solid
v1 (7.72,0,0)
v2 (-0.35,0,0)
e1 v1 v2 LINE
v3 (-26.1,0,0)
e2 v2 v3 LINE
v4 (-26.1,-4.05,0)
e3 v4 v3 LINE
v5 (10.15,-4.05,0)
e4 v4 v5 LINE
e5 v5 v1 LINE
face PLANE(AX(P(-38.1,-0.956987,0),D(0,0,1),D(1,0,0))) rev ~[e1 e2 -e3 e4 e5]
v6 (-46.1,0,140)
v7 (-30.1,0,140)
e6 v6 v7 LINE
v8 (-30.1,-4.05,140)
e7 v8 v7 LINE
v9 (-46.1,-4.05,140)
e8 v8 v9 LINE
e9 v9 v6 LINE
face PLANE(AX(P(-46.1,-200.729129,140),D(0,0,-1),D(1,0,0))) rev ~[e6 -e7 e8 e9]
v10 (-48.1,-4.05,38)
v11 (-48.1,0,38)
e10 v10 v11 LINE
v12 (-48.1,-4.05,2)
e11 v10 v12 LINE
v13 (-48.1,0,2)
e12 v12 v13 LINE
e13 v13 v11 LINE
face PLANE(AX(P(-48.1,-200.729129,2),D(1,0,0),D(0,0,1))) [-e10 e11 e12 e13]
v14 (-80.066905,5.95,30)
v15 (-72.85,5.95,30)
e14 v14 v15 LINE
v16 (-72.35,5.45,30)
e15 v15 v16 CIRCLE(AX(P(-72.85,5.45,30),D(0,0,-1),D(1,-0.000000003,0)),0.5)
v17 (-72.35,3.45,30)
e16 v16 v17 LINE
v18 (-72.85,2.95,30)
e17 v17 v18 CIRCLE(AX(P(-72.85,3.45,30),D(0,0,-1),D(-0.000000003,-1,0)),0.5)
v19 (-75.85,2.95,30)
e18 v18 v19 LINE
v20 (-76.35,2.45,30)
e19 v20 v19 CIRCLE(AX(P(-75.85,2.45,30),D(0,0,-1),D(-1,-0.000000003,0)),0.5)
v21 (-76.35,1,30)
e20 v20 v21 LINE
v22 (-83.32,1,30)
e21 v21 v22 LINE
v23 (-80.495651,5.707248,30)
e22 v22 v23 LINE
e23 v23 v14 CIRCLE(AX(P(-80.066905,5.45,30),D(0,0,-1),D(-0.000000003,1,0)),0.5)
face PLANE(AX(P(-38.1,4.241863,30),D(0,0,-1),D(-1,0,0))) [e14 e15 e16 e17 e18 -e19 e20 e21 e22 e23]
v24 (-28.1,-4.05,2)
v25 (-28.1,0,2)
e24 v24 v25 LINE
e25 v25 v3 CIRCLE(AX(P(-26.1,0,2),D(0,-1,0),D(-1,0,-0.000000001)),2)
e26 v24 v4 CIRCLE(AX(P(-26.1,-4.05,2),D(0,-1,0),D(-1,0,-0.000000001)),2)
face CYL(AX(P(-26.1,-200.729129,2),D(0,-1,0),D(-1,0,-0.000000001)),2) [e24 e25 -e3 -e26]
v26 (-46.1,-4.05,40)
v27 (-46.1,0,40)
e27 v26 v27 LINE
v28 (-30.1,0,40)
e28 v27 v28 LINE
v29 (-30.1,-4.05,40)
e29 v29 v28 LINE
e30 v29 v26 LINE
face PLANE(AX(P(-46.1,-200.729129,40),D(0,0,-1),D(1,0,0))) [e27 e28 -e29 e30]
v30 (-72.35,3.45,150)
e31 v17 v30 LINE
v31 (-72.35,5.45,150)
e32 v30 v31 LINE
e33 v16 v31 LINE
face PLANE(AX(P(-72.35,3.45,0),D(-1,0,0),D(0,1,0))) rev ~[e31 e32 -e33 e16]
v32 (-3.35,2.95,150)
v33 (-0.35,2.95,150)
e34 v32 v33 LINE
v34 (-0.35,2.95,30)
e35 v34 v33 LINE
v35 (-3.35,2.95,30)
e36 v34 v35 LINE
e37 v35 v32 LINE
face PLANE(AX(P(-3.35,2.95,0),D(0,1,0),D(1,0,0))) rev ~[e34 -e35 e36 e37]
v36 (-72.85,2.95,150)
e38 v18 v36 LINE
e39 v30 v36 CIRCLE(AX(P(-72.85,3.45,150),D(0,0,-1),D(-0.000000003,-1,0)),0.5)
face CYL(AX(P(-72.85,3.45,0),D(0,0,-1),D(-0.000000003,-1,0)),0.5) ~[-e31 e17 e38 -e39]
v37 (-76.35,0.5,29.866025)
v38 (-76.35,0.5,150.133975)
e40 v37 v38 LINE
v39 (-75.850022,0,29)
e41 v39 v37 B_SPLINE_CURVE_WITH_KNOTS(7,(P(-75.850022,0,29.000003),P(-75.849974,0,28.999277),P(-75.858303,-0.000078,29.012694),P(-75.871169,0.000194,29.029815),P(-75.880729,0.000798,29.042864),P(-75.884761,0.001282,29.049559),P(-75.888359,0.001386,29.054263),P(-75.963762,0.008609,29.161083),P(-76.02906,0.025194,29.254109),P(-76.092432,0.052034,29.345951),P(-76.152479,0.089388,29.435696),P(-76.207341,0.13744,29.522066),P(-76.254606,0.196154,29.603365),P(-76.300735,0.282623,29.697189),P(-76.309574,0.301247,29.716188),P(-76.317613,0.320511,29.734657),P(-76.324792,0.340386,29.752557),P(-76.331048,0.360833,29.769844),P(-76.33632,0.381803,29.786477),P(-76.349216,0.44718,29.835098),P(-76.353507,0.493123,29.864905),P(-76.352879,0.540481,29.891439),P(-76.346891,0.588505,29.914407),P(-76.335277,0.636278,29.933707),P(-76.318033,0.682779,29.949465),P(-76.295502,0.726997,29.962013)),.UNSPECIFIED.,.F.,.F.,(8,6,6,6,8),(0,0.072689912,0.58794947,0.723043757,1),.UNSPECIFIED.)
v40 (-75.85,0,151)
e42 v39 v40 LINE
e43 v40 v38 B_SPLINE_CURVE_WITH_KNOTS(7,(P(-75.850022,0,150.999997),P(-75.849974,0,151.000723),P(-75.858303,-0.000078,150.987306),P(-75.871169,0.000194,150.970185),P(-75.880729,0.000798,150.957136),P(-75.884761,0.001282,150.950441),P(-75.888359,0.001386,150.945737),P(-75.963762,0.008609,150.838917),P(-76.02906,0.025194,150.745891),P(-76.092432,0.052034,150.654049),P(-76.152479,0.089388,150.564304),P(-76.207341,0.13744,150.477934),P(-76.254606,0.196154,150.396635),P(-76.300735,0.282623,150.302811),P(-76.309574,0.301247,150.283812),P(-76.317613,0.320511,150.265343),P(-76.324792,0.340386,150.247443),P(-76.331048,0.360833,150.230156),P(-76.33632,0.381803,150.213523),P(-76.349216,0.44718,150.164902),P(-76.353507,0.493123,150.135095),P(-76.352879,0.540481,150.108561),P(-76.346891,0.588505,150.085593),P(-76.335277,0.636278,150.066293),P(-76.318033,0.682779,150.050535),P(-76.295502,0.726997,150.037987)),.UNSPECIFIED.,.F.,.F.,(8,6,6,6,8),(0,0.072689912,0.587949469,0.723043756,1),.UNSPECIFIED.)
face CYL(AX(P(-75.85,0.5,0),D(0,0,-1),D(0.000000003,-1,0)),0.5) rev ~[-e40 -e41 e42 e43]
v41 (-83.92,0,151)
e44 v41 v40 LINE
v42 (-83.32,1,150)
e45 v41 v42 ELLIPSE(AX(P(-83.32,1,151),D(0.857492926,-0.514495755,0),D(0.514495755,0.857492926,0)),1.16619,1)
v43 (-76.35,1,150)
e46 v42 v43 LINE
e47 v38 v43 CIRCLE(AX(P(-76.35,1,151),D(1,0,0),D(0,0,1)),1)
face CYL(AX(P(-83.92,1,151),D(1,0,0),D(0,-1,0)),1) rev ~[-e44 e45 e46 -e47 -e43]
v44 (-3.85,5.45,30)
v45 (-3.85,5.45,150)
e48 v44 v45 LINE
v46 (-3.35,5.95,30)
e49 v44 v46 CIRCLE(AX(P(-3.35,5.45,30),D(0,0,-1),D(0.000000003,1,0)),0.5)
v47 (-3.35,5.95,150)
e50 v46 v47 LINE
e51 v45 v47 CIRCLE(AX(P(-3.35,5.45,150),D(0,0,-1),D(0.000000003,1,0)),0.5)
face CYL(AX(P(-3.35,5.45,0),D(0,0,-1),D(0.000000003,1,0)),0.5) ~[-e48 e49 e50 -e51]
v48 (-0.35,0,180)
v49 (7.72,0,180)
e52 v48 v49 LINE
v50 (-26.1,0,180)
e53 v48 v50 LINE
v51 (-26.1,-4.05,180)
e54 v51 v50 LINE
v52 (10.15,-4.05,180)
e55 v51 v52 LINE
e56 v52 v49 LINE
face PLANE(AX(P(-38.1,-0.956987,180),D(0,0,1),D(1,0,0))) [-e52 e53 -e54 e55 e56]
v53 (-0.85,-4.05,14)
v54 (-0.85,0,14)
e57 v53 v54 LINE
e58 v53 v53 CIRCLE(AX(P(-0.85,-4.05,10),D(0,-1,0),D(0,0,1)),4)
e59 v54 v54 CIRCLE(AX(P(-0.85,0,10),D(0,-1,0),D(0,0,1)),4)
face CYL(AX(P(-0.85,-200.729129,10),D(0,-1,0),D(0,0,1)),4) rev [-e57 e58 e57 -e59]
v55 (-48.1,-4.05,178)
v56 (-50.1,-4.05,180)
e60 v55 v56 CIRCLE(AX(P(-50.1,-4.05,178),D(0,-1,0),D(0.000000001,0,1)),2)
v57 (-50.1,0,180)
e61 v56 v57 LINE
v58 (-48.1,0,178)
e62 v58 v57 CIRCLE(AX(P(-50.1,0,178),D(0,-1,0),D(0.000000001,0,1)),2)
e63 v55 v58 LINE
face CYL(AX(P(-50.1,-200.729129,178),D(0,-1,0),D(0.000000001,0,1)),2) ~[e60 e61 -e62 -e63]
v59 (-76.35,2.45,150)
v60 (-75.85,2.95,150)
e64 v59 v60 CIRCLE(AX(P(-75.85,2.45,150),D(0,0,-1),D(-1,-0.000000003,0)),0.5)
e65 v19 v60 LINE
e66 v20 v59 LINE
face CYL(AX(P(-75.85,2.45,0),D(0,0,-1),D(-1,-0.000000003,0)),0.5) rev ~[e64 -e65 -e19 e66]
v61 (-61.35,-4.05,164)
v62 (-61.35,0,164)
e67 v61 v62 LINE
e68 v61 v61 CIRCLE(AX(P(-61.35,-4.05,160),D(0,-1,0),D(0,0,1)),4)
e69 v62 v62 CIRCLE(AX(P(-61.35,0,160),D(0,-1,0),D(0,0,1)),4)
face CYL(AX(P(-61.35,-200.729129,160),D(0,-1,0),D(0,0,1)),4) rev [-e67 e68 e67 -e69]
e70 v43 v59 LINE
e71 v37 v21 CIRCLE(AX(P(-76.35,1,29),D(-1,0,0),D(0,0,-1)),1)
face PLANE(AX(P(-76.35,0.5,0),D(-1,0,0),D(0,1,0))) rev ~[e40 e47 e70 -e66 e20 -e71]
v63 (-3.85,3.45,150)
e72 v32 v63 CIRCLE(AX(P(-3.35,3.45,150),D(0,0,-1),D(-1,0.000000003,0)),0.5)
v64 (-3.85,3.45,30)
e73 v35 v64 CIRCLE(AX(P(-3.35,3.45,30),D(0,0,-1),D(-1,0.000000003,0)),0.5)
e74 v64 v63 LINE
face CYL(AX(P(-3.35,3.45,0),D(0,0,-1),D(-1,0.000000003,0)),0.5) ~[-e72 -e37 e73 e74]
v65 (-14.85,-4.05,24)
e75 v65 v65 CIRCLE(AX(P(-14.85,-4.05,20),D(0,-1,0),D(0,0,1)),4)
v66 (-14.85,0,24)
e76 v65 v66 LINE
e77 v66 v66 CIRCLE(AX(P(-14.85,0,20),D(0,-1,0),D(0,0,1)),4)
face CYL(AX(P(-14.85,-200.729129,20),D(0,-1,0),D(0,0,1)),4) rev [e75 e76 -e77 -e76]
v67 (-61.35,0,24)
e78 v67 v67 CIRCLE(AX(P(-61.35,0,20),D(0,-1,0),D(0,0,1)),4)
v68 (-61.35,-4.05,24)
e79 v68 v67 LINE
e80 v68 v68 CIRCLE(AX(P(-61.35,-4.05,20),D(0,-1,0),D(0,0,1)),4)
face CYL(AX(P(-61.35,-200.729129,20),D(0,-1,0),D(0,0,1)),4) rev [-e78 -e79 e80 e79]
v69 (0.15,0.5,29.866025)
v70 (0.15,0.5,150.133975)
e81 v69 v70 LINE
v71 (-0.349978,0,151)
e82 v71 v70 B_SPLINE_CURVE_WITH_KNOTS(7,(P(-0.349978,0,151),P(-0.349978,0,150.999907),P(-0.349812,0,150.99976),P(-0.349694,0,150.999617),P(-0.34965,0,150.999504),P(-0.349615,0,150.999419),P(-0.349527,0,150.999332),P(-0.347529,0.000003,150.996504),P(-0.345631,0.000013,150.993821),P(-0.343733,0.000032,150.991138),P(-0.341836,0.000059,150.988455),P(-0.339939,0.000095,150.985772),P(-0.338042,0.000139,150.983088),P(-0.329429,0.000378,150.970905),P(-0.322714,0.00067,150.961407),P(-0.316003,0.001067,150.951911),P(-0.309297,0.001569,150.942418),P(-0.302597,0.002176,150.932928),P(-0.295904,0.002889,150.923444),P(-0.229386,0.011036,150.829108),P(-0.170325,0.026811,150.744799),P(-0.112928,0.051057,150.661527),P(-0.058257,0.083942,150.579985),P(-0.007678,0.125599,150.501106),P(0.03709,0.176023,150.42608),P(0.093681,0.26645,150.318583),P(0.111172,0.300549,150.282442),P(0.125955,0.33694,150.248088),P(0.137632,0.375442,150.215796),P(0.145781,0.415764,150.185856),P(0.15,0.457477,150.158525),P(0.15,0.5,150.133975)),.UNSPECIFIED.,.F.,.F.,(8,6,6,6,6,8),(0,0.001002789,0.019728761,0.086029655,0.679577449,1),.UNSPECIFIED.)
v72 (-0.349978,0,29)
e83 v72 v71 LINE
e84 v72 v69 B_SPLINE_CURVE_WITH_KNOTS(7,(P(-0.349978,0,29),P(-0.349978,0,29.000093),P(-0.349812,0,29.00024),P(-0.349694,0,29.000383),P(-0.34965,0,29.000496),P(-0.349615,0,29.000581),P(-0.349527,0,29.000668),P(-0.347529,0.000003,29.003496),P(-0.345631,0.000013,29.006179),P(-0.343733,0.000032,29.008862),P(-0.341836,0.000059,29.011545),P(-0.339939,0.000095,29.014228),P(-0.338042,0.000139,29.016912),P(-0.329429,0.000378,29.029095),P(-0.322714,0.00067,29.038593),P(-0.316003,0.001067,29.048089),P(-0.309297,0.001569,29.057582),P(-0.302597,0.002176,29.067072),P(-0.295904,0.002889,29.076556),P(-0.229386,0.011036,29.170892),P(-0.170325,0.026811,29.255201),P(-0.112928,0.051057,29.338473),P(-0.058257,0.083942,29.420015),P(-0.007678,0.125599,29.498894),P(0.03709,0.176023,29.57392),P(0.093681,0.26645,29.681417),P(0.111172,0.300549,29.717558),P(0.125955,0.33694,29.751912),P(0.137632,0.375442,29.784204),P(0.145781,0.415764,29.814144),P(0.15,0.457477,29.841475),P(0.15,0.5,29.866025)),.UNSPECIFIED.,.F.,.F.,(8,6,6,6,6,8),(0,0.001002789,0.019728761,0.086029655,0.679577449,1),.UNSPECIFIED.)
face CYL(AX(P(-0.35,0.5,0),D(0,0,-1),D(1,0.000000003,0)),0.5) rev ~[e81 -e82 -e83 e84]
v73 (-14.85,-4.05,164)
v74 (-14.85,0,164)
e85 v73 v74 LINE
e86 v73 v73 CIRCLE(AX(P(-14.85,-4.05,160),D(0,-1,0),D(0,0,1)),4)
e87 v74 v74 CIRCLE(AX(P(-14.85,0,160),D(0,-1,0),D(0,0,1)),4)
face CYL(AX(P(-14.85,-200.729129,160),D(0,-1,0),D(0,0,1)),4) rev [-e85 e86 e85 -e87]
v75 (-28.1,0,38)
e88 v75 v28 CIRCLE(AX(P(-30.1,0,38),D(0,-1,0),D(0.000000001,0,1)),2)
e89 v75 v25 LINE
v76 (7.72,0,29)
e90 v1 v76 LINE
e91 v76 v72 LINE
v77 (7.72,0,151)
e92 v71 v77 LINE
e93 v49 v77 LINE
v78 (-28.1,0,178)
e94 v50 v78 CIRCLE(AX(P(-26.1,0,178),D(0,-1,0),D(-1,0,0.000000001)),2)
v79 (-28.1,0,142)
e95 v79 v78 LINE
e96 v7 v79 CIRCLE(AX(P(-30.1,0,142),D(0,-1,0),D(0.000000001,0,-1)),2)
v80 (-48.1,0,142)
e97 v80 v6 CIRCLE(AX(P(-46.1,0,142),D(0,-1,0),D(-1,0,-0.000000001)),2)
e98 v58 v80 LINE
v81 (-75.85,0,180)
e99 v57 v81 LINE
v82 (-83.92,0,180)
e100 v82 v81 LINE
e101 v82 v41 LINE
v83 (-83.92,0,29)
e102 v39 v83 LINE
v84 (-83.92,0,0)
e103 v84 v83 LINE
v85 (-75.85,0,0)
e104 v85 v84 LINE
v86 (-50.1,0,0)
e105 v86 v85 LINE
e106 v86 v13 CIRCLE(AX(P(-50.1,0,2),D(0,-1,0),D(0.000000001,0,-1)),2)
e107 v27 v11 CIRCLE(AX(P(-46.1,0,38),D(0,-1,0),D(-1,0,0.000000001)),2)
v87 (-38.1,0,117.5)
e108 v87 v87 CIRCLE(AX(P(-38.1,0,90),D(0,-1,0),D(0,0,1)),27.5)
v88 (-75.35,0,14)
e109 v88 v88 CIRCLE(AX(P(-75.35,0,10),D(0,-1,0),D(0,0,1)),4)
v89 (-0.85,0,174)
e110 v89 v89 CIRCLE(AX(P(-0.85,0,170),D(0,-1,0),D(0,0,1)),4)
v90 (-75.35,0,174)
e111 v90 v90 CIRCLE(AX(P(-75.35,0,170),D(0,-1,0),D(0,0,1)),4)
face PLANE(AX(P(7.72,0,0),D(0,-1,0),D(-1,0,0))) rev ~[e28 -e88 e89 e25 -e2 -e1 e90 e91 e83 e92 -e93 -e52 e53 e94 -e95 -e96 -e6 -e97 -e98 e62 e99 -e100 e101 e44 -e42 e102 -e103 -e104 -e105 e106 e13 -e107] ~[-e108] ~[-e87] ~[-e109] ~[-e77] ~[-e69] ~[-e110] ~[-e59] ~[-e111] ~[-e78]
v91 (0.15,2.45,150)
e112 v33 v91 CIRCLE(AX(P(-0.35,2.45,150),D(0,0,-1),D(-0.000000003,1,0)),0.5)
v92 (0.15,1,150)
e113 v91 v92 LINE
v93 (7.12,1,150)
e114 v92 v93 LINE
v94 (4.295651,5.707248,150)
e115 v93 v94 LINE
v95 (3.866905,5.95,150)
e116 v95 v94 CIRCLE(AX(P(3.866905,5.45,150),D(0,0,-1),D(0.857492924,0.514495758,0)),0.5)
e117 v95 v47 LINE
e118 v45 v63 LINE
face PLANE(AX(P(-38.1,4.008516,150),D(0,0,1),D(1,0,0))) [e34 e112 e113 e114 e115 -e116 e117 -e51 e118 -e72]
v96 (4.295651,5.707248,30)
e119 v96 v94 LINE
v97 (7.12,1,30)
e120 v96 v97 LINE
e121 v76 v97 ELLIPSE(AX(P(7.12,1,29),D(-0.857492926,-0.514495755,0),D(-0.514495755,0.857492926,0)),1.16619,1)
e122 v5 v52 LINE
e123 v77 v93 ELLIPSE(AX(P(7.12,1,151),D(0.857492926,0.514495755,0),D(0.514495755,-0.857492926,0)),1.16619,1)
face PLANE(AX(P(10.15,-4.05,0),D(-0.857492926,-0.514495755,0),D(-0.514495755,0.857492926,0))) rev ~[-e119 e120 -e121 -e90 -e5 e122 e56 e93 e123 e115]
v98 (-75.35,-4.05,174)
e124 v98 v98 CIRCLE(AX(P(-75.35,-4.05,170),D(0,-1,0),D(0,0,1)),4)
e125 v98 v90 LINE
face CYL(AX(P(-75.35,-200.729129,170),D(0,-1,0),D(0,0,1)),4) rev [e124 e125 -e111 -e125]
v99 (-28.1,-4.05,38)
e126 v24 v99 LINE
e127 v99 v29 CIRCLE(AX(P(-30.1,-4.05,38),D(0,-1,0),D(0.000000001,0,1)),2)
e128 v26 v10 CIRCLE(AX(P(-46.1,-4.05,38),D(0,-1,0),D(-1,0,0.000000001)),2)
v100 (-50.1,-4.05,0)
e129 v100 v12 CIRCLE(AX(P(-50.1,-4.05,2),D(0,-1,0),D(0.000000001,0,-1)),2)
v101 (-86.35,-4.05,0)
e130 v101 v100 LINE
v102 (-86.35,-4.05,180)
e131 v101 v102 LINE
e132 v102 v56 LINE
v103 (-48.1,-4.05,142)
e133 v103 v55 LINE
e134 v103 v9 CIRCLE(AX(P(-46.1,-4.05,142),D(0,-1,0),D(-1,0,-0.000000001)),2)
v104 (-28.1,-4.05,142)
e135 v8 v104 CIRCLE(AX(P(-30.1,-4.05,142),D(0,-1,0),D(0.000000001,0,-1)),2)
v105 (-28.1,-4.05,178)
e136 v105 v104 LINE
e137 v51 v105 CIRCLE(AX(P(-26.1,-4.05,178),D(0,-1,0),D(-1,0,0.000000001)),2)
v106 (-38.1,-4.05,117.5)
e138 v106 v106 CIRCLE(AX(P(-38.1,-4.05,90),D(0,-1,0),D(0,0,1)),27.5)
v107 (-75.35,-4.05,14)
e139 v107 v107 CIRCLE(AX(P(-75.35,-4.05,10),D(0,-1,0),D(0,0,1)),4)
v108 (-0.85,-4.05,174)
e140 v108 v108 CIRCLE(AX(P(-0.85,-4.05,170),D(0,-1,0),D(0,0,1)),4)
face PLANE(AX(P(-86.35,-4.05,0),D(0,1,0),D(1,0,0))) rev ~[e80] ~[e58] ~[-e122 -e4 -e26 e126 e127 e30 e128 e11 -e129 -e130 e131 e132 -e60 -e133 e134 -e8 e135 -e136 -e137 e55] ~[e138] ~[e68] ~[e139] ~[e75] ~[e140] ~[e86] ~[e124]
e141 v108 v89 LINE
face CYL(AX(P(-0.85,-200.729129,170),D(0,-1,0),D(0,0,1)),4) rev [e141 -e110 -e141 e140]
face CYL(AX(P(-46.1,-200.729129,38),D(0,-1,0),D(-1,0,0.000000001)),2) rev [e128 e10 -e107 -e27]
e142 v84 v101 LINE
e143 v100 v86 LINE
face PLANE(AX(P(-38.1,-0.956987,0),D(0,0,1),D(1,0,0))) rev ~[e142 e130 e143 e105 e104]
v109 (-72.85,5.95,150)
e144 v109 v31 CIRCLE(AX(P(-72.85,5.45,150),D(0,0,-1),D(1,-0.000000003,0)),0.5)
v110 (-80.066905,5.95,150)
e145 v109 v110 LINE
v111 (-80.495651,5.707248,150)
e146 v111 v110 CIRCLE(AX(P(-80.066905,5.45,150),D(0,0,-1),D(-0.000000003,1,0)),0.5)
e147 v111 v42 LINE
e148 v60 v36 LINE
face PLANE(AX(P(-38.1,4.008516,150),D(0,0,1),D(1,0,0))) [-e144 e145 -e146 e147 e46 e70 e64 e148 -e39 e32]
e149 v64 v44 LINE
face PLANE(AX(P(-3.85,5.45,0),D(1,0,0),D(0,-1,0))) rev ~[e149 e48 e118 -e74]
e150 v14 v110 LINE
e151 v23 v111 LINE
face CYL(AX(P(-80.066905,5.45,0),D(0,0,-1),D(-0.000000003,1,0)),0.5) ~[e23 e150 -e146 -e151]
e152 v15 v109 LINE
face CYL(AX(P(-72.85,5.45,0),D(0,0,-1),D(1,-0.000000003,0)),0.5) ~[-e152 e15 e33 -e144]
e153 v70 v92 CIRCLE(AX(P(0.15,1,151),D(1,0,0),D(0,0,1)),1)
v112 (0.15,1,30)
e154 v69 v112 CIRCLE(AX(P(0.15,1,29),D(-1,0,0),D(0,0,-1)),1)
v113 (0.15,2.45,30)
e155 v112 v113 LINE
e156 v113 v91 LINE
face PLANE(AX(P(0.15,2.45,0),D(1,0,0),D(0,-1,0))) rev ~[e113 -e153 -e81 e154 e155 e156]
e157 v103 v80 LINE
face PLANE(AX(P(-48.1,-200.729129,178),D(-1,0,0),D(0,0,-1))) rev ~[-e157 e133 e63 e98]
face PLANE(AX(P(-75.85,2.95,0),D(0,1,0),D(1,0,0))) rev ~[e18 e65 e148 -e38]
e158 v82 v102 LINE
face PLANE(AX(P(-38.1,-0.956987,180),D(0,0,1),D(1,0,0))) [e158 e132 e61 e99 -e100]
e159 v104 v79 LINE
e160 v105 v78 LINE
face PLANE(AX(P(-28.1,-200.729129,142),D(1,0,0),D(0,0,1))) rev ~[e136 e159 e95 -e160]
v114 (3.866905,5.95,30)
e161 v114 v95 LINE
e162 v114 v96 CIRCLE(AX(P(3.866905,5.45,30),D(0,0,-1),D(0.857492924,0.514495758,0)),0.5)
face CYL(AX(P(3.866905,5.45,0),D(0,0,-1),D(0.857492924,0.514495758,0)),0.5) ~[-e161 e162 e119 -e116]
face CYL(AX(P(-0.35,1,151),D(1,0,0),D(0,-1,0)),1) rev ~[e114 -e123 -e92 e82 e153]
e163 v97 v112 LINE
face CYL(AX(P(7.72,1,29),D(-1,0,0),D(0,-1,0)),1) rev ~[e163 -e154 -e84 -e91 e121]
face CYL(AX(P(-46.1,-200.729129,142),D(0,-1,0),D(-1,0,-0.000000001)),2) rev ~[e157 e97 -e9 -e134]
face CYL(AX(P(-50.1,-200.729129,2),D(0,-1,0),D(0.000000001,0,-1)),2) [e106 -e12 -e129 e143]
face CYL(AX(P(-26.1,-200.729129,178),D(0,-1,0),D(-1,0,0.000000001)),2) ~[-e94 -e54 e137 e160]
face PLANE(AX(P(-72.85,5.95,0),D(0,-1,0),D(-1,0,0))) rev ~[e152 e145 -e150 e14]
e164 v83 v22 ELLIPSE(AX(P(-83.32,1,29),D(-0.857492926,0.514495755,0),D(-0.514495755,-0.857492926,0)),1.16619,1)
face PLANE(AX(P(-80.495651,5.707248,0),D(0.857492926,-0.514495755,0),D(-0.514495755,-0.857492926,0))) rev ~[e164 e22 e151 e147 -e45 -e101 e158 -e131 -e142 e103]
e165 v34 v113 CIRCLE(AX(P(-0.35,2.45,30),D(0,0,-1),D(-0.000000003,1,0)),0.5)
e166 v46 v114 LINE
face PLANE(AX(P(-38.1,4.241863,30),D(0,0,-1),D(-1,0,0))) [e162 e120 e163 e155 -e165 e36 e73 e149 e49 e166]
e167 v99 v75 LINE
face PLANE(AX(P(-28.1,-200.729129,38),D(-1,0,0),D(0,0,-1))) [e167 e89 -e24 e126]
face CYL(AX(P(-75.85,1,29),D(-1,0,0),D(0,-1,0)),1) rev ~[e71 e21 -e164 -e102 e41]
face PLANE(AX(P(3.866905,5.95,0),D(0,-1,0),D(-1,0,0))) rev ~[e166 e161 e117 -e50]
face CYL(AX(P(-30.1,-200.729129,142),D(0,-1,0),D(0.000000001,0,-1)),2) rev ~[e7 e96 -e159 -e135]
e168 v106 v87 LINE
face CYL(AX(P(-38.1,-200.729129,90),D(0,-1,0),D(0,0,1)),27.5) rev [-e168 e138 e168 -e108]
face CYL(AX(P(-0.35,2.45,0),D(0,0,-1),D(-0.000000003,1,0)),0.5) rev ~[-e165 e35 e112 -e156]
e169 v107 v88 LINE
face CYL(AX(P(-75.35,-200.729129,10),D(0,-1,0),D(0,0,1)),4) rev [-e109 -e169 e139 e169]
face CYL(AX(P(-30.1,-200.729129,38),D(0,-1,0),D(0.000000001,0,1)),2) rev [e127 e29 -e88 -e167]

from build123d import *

# Parameters (mm, degrees)
BOSS_EXTRUDE1_DEPTH     = 180
SKETCH2_W               = 91.64
SKETCH2_H               = 8.017032047
CUT_EXTRUDE1_DEPTH      = 30
SKETCH3_W               = 91.64
SKETCH3_H               = 8.483725915
CUT_EXTRUDE2_DEPTH      = 30
FILLET1_R               = 1
FILLET2_R               = 1
FILLET3_R               = 1
CUT_EXTRUDE3_DEPTH      = 200.729129072
CUT_EXTRUDE3_DEPTH_BACK = 200.729129072
SKETCH4_R               = 4
SKETCH4_R_2             = 27.5


with BuildPart() as part:
    # Sketch1 → Boss-Extrude1 (new body)
    with BuildSketch(Plane.XY):
        with BuildLine():
            Line((-80.35, -4.05), (-79.85, -4.05))
            Line((-79.85, -4.05), (3.65, -4.05))
            Line((3.65, -4.05), (4.15, -4.05))
            Line((4.15, -4.05), (10.15, -4.05))
            Line((10.15, -4.05), (4.295651273, 5.707247878))
            ThreePointArc((4.295651273, 5.707247878), (4.113254218, 5.885099953), (3.866904811, 5.95))
            Line((3.866904811, 5.95), (3.65, 5.95))
            Line((3.65, 5.95), (-3.35, 5.95))
            ThreePointArc((-3.35, 5.95), (-3.703553391, 5.803553391), (-3.85, 5.45))
            Line((-3.85, 5.45), (-3.85, 3.45))
            ThreePointArc((-3.85, 3.45), (-3.703553391, 3.096446609), (-3.35, 2.95))
            Line((-3.35, 2.95), (-0.35, 2.95))
            ThreePointArc((-0.35, 2.95), (0.003553391, 2.803553391), (0.15, 2.45))
            Line((0.15, 2.45), (0.15, 0.5))
            ThreePointArc((0.15, 0.5), (0.003553391, 0.146446609), (-0.35, 0))
            Line((-0.35, 0), (-75.85, 0))
            ThreePointArc((-75.85, 0), (-76.203553391, 0.146446609), (-76.35, 0.5))
            Line((-76.35, 0.5), (-76.35, 2.45))
            ThreePointArc((-76.35, 2.45), (-76.203553391, 2.803553391), (-75.85, 2.95))
            Line((-75.85, 2.95), (-72.85, 2.95))
            ThreePointArc((-72.85, 2.95), (-72.496446609, 3.096446609), (-72.35, 3.45))
            Line((-72.35, 3.45), (-72.35, 5.45))
            ThreePointArc((-72.35, 5.45), (-72.496446609, 5.803553391), (-72.85, 5.95))
            Line((-72.85, 5.95), (-79.85, 5.95))
            Line((-79.85, 5.95), (-80.066904811, 5.95))
            ThreePointArc((-80.066904811, 5.95), (-80.313254218, 5.885099953), (-80.495651273, 5.707247878))
            Line((-80.495651273, 5.707247878), (-86.35, -4.05))
            Line((-86.35, -4.05), (-80.35, -4.05))
        make_face()
    extrude(amount=BOSS_EXTRUDE1_DEPTH)

    # Sketch2 → Cut-Extrude1 (cut)
    with BuildSketch(Plane.XY.offset(180)):
        with Locations((-38.1, 4.008516024)):
            Rectangle(SKETCH2_W, SKETCH2_H)
    extrude(amount=-CUT_EXTRUDE1_DEPTH, mode=Mode.SUBTRACT)

    # Sketch3 → Cut-Extrude2 (cut)
    with BuildSketch(Plane(origin=(0, 0, 0), x_dir=(-1, 0, 0), z_dir=(0, 0, -1))):
        with Locations((38.1, 4.241862958)):
            Rectangle(SKETCH3_W, SKETCH3_H)
    extrude(amount=-CUT_EXTRUDE2_DEPTH, mode=Mode.SUBTRACT)

    # Fillet1
    fillet1_edges = [part.edges().sort_by_distance(p)[0] for p in [
        (-79.885, 0, 150),
    ]]
    fillet(fillet1_edges, radius=FILLET1_R)

    # Fillet2
    fillet2_edges = [part.edges().sort_by_distance(p)[0] for p in [
        (3.685, 0, 150),
    ]]
    fillet(fillet2_edges, radius=FILLET2_R)

    # Fillet3
    fillet3_edges = [part.edges().sort_by_distance(p)[0] for p in [
        (-79.885, 0, 30),
        (3.685, 0, 30),
    ]]
    fillet(fillet3_edges, radius=FILLET3_R)

    # Sketch4 → Cut-Extrude3 (cut, two sides: drawn at the far end of the back side and taken through both)
    with BuildSketch(Plane(origin=(0, 0, 0), x_dir=(1, 0, 0), z_dir=(0, 1, 0)).offset(-CUT_EXTRUDE3_DEPTH_BACK)):
        with BuildLine():
            Line((-28.1, -38), (-28.1, -2))
            ThreePointArc((-28.1, -2), (-27.514213562, -0.585786438), (-26.1, 0))
            Line((-26.1, 0), (-50.1, 0))
            ThreePointArc((-50.1, 0), (-48.685786438, -0.585786438), (-48.1, -2))
            Line((-48.1, -2), (-48.1, -38))
            ThreePointArc((-48.1, -38), (-47.514213562, -39.414213562), (-46.1, -40))
            Line((-46.1, -40), (-30.1, -40))
            ThreePointArc((-30.1, -40), (-28.685786438, -39.414213562), (-28.1, -38))
        make_face()
        with Locations(Location((-75.35, -10, 0), (0, 0, 270))):
            Circle(SKETCH4_R)
        with Locations(Location((-61.35, -20, 0), (0, 0, 270))):
            Circle(SKETCH4_R)
        with Locations(Location((-14.85, -20, 0), (0, 0, 270))):
            Circle(SKETCH4_R)
        with Locations(Location((-0.85, -10, 0), (0, 0, 270))):
            Circle(SKETCH4_R)
        with Locations(Location((-38.1, -90, 0), (0, 0, 270))):
            Circle(SKETCH4_R_2)
        with BuildLine():
            ThreePointArc((-30.1, -140), (-28.685786438, -140.585786438), (-28.1, -142))
            Line((-28.1, -142), (-28.1, -178))
            ThreePointArc((-28.1, -178), (-27.514213562, -179.414213562), (-26.1, -180))
            Line((-26.1, -180), (-50.1, -180))
            ThreePointArc((-50.1, -180), (-48.685786438, -179.414213562), (-48.1, -178))
            Line((-48.1, -178), (-48.1, -142))
            ThreePointArc((-48.1, -142), (-47.514213562, -140.585786438), (-46.1, -140))
            Line((-46.1, -140), (-30.1, -140))
        make_face()
        with Locations(Location((-61.35, -160, 0), (0, 0, 270))):
            Circle(SKETCH4_R)
        with Locations(Location((-75.35, -170, 0), (0, 0, 270))):
            Circle(SKETCH4_R)
        with Locations(Location((-14.85, -160, 0), (0, 0, 270))):
            Circle(SKETCH4_R)
        with Locations(Location((-0.85, -170, 0), (0, 0, 270))):
            Circle(SKETCH4_R)
    extrude(amount=CUT_EXTRUDE3_DEPTH + CUT_EXTRUDE3_DEPTH_BACK, mode=Mode.SUBTRACT)


solid = part.part
